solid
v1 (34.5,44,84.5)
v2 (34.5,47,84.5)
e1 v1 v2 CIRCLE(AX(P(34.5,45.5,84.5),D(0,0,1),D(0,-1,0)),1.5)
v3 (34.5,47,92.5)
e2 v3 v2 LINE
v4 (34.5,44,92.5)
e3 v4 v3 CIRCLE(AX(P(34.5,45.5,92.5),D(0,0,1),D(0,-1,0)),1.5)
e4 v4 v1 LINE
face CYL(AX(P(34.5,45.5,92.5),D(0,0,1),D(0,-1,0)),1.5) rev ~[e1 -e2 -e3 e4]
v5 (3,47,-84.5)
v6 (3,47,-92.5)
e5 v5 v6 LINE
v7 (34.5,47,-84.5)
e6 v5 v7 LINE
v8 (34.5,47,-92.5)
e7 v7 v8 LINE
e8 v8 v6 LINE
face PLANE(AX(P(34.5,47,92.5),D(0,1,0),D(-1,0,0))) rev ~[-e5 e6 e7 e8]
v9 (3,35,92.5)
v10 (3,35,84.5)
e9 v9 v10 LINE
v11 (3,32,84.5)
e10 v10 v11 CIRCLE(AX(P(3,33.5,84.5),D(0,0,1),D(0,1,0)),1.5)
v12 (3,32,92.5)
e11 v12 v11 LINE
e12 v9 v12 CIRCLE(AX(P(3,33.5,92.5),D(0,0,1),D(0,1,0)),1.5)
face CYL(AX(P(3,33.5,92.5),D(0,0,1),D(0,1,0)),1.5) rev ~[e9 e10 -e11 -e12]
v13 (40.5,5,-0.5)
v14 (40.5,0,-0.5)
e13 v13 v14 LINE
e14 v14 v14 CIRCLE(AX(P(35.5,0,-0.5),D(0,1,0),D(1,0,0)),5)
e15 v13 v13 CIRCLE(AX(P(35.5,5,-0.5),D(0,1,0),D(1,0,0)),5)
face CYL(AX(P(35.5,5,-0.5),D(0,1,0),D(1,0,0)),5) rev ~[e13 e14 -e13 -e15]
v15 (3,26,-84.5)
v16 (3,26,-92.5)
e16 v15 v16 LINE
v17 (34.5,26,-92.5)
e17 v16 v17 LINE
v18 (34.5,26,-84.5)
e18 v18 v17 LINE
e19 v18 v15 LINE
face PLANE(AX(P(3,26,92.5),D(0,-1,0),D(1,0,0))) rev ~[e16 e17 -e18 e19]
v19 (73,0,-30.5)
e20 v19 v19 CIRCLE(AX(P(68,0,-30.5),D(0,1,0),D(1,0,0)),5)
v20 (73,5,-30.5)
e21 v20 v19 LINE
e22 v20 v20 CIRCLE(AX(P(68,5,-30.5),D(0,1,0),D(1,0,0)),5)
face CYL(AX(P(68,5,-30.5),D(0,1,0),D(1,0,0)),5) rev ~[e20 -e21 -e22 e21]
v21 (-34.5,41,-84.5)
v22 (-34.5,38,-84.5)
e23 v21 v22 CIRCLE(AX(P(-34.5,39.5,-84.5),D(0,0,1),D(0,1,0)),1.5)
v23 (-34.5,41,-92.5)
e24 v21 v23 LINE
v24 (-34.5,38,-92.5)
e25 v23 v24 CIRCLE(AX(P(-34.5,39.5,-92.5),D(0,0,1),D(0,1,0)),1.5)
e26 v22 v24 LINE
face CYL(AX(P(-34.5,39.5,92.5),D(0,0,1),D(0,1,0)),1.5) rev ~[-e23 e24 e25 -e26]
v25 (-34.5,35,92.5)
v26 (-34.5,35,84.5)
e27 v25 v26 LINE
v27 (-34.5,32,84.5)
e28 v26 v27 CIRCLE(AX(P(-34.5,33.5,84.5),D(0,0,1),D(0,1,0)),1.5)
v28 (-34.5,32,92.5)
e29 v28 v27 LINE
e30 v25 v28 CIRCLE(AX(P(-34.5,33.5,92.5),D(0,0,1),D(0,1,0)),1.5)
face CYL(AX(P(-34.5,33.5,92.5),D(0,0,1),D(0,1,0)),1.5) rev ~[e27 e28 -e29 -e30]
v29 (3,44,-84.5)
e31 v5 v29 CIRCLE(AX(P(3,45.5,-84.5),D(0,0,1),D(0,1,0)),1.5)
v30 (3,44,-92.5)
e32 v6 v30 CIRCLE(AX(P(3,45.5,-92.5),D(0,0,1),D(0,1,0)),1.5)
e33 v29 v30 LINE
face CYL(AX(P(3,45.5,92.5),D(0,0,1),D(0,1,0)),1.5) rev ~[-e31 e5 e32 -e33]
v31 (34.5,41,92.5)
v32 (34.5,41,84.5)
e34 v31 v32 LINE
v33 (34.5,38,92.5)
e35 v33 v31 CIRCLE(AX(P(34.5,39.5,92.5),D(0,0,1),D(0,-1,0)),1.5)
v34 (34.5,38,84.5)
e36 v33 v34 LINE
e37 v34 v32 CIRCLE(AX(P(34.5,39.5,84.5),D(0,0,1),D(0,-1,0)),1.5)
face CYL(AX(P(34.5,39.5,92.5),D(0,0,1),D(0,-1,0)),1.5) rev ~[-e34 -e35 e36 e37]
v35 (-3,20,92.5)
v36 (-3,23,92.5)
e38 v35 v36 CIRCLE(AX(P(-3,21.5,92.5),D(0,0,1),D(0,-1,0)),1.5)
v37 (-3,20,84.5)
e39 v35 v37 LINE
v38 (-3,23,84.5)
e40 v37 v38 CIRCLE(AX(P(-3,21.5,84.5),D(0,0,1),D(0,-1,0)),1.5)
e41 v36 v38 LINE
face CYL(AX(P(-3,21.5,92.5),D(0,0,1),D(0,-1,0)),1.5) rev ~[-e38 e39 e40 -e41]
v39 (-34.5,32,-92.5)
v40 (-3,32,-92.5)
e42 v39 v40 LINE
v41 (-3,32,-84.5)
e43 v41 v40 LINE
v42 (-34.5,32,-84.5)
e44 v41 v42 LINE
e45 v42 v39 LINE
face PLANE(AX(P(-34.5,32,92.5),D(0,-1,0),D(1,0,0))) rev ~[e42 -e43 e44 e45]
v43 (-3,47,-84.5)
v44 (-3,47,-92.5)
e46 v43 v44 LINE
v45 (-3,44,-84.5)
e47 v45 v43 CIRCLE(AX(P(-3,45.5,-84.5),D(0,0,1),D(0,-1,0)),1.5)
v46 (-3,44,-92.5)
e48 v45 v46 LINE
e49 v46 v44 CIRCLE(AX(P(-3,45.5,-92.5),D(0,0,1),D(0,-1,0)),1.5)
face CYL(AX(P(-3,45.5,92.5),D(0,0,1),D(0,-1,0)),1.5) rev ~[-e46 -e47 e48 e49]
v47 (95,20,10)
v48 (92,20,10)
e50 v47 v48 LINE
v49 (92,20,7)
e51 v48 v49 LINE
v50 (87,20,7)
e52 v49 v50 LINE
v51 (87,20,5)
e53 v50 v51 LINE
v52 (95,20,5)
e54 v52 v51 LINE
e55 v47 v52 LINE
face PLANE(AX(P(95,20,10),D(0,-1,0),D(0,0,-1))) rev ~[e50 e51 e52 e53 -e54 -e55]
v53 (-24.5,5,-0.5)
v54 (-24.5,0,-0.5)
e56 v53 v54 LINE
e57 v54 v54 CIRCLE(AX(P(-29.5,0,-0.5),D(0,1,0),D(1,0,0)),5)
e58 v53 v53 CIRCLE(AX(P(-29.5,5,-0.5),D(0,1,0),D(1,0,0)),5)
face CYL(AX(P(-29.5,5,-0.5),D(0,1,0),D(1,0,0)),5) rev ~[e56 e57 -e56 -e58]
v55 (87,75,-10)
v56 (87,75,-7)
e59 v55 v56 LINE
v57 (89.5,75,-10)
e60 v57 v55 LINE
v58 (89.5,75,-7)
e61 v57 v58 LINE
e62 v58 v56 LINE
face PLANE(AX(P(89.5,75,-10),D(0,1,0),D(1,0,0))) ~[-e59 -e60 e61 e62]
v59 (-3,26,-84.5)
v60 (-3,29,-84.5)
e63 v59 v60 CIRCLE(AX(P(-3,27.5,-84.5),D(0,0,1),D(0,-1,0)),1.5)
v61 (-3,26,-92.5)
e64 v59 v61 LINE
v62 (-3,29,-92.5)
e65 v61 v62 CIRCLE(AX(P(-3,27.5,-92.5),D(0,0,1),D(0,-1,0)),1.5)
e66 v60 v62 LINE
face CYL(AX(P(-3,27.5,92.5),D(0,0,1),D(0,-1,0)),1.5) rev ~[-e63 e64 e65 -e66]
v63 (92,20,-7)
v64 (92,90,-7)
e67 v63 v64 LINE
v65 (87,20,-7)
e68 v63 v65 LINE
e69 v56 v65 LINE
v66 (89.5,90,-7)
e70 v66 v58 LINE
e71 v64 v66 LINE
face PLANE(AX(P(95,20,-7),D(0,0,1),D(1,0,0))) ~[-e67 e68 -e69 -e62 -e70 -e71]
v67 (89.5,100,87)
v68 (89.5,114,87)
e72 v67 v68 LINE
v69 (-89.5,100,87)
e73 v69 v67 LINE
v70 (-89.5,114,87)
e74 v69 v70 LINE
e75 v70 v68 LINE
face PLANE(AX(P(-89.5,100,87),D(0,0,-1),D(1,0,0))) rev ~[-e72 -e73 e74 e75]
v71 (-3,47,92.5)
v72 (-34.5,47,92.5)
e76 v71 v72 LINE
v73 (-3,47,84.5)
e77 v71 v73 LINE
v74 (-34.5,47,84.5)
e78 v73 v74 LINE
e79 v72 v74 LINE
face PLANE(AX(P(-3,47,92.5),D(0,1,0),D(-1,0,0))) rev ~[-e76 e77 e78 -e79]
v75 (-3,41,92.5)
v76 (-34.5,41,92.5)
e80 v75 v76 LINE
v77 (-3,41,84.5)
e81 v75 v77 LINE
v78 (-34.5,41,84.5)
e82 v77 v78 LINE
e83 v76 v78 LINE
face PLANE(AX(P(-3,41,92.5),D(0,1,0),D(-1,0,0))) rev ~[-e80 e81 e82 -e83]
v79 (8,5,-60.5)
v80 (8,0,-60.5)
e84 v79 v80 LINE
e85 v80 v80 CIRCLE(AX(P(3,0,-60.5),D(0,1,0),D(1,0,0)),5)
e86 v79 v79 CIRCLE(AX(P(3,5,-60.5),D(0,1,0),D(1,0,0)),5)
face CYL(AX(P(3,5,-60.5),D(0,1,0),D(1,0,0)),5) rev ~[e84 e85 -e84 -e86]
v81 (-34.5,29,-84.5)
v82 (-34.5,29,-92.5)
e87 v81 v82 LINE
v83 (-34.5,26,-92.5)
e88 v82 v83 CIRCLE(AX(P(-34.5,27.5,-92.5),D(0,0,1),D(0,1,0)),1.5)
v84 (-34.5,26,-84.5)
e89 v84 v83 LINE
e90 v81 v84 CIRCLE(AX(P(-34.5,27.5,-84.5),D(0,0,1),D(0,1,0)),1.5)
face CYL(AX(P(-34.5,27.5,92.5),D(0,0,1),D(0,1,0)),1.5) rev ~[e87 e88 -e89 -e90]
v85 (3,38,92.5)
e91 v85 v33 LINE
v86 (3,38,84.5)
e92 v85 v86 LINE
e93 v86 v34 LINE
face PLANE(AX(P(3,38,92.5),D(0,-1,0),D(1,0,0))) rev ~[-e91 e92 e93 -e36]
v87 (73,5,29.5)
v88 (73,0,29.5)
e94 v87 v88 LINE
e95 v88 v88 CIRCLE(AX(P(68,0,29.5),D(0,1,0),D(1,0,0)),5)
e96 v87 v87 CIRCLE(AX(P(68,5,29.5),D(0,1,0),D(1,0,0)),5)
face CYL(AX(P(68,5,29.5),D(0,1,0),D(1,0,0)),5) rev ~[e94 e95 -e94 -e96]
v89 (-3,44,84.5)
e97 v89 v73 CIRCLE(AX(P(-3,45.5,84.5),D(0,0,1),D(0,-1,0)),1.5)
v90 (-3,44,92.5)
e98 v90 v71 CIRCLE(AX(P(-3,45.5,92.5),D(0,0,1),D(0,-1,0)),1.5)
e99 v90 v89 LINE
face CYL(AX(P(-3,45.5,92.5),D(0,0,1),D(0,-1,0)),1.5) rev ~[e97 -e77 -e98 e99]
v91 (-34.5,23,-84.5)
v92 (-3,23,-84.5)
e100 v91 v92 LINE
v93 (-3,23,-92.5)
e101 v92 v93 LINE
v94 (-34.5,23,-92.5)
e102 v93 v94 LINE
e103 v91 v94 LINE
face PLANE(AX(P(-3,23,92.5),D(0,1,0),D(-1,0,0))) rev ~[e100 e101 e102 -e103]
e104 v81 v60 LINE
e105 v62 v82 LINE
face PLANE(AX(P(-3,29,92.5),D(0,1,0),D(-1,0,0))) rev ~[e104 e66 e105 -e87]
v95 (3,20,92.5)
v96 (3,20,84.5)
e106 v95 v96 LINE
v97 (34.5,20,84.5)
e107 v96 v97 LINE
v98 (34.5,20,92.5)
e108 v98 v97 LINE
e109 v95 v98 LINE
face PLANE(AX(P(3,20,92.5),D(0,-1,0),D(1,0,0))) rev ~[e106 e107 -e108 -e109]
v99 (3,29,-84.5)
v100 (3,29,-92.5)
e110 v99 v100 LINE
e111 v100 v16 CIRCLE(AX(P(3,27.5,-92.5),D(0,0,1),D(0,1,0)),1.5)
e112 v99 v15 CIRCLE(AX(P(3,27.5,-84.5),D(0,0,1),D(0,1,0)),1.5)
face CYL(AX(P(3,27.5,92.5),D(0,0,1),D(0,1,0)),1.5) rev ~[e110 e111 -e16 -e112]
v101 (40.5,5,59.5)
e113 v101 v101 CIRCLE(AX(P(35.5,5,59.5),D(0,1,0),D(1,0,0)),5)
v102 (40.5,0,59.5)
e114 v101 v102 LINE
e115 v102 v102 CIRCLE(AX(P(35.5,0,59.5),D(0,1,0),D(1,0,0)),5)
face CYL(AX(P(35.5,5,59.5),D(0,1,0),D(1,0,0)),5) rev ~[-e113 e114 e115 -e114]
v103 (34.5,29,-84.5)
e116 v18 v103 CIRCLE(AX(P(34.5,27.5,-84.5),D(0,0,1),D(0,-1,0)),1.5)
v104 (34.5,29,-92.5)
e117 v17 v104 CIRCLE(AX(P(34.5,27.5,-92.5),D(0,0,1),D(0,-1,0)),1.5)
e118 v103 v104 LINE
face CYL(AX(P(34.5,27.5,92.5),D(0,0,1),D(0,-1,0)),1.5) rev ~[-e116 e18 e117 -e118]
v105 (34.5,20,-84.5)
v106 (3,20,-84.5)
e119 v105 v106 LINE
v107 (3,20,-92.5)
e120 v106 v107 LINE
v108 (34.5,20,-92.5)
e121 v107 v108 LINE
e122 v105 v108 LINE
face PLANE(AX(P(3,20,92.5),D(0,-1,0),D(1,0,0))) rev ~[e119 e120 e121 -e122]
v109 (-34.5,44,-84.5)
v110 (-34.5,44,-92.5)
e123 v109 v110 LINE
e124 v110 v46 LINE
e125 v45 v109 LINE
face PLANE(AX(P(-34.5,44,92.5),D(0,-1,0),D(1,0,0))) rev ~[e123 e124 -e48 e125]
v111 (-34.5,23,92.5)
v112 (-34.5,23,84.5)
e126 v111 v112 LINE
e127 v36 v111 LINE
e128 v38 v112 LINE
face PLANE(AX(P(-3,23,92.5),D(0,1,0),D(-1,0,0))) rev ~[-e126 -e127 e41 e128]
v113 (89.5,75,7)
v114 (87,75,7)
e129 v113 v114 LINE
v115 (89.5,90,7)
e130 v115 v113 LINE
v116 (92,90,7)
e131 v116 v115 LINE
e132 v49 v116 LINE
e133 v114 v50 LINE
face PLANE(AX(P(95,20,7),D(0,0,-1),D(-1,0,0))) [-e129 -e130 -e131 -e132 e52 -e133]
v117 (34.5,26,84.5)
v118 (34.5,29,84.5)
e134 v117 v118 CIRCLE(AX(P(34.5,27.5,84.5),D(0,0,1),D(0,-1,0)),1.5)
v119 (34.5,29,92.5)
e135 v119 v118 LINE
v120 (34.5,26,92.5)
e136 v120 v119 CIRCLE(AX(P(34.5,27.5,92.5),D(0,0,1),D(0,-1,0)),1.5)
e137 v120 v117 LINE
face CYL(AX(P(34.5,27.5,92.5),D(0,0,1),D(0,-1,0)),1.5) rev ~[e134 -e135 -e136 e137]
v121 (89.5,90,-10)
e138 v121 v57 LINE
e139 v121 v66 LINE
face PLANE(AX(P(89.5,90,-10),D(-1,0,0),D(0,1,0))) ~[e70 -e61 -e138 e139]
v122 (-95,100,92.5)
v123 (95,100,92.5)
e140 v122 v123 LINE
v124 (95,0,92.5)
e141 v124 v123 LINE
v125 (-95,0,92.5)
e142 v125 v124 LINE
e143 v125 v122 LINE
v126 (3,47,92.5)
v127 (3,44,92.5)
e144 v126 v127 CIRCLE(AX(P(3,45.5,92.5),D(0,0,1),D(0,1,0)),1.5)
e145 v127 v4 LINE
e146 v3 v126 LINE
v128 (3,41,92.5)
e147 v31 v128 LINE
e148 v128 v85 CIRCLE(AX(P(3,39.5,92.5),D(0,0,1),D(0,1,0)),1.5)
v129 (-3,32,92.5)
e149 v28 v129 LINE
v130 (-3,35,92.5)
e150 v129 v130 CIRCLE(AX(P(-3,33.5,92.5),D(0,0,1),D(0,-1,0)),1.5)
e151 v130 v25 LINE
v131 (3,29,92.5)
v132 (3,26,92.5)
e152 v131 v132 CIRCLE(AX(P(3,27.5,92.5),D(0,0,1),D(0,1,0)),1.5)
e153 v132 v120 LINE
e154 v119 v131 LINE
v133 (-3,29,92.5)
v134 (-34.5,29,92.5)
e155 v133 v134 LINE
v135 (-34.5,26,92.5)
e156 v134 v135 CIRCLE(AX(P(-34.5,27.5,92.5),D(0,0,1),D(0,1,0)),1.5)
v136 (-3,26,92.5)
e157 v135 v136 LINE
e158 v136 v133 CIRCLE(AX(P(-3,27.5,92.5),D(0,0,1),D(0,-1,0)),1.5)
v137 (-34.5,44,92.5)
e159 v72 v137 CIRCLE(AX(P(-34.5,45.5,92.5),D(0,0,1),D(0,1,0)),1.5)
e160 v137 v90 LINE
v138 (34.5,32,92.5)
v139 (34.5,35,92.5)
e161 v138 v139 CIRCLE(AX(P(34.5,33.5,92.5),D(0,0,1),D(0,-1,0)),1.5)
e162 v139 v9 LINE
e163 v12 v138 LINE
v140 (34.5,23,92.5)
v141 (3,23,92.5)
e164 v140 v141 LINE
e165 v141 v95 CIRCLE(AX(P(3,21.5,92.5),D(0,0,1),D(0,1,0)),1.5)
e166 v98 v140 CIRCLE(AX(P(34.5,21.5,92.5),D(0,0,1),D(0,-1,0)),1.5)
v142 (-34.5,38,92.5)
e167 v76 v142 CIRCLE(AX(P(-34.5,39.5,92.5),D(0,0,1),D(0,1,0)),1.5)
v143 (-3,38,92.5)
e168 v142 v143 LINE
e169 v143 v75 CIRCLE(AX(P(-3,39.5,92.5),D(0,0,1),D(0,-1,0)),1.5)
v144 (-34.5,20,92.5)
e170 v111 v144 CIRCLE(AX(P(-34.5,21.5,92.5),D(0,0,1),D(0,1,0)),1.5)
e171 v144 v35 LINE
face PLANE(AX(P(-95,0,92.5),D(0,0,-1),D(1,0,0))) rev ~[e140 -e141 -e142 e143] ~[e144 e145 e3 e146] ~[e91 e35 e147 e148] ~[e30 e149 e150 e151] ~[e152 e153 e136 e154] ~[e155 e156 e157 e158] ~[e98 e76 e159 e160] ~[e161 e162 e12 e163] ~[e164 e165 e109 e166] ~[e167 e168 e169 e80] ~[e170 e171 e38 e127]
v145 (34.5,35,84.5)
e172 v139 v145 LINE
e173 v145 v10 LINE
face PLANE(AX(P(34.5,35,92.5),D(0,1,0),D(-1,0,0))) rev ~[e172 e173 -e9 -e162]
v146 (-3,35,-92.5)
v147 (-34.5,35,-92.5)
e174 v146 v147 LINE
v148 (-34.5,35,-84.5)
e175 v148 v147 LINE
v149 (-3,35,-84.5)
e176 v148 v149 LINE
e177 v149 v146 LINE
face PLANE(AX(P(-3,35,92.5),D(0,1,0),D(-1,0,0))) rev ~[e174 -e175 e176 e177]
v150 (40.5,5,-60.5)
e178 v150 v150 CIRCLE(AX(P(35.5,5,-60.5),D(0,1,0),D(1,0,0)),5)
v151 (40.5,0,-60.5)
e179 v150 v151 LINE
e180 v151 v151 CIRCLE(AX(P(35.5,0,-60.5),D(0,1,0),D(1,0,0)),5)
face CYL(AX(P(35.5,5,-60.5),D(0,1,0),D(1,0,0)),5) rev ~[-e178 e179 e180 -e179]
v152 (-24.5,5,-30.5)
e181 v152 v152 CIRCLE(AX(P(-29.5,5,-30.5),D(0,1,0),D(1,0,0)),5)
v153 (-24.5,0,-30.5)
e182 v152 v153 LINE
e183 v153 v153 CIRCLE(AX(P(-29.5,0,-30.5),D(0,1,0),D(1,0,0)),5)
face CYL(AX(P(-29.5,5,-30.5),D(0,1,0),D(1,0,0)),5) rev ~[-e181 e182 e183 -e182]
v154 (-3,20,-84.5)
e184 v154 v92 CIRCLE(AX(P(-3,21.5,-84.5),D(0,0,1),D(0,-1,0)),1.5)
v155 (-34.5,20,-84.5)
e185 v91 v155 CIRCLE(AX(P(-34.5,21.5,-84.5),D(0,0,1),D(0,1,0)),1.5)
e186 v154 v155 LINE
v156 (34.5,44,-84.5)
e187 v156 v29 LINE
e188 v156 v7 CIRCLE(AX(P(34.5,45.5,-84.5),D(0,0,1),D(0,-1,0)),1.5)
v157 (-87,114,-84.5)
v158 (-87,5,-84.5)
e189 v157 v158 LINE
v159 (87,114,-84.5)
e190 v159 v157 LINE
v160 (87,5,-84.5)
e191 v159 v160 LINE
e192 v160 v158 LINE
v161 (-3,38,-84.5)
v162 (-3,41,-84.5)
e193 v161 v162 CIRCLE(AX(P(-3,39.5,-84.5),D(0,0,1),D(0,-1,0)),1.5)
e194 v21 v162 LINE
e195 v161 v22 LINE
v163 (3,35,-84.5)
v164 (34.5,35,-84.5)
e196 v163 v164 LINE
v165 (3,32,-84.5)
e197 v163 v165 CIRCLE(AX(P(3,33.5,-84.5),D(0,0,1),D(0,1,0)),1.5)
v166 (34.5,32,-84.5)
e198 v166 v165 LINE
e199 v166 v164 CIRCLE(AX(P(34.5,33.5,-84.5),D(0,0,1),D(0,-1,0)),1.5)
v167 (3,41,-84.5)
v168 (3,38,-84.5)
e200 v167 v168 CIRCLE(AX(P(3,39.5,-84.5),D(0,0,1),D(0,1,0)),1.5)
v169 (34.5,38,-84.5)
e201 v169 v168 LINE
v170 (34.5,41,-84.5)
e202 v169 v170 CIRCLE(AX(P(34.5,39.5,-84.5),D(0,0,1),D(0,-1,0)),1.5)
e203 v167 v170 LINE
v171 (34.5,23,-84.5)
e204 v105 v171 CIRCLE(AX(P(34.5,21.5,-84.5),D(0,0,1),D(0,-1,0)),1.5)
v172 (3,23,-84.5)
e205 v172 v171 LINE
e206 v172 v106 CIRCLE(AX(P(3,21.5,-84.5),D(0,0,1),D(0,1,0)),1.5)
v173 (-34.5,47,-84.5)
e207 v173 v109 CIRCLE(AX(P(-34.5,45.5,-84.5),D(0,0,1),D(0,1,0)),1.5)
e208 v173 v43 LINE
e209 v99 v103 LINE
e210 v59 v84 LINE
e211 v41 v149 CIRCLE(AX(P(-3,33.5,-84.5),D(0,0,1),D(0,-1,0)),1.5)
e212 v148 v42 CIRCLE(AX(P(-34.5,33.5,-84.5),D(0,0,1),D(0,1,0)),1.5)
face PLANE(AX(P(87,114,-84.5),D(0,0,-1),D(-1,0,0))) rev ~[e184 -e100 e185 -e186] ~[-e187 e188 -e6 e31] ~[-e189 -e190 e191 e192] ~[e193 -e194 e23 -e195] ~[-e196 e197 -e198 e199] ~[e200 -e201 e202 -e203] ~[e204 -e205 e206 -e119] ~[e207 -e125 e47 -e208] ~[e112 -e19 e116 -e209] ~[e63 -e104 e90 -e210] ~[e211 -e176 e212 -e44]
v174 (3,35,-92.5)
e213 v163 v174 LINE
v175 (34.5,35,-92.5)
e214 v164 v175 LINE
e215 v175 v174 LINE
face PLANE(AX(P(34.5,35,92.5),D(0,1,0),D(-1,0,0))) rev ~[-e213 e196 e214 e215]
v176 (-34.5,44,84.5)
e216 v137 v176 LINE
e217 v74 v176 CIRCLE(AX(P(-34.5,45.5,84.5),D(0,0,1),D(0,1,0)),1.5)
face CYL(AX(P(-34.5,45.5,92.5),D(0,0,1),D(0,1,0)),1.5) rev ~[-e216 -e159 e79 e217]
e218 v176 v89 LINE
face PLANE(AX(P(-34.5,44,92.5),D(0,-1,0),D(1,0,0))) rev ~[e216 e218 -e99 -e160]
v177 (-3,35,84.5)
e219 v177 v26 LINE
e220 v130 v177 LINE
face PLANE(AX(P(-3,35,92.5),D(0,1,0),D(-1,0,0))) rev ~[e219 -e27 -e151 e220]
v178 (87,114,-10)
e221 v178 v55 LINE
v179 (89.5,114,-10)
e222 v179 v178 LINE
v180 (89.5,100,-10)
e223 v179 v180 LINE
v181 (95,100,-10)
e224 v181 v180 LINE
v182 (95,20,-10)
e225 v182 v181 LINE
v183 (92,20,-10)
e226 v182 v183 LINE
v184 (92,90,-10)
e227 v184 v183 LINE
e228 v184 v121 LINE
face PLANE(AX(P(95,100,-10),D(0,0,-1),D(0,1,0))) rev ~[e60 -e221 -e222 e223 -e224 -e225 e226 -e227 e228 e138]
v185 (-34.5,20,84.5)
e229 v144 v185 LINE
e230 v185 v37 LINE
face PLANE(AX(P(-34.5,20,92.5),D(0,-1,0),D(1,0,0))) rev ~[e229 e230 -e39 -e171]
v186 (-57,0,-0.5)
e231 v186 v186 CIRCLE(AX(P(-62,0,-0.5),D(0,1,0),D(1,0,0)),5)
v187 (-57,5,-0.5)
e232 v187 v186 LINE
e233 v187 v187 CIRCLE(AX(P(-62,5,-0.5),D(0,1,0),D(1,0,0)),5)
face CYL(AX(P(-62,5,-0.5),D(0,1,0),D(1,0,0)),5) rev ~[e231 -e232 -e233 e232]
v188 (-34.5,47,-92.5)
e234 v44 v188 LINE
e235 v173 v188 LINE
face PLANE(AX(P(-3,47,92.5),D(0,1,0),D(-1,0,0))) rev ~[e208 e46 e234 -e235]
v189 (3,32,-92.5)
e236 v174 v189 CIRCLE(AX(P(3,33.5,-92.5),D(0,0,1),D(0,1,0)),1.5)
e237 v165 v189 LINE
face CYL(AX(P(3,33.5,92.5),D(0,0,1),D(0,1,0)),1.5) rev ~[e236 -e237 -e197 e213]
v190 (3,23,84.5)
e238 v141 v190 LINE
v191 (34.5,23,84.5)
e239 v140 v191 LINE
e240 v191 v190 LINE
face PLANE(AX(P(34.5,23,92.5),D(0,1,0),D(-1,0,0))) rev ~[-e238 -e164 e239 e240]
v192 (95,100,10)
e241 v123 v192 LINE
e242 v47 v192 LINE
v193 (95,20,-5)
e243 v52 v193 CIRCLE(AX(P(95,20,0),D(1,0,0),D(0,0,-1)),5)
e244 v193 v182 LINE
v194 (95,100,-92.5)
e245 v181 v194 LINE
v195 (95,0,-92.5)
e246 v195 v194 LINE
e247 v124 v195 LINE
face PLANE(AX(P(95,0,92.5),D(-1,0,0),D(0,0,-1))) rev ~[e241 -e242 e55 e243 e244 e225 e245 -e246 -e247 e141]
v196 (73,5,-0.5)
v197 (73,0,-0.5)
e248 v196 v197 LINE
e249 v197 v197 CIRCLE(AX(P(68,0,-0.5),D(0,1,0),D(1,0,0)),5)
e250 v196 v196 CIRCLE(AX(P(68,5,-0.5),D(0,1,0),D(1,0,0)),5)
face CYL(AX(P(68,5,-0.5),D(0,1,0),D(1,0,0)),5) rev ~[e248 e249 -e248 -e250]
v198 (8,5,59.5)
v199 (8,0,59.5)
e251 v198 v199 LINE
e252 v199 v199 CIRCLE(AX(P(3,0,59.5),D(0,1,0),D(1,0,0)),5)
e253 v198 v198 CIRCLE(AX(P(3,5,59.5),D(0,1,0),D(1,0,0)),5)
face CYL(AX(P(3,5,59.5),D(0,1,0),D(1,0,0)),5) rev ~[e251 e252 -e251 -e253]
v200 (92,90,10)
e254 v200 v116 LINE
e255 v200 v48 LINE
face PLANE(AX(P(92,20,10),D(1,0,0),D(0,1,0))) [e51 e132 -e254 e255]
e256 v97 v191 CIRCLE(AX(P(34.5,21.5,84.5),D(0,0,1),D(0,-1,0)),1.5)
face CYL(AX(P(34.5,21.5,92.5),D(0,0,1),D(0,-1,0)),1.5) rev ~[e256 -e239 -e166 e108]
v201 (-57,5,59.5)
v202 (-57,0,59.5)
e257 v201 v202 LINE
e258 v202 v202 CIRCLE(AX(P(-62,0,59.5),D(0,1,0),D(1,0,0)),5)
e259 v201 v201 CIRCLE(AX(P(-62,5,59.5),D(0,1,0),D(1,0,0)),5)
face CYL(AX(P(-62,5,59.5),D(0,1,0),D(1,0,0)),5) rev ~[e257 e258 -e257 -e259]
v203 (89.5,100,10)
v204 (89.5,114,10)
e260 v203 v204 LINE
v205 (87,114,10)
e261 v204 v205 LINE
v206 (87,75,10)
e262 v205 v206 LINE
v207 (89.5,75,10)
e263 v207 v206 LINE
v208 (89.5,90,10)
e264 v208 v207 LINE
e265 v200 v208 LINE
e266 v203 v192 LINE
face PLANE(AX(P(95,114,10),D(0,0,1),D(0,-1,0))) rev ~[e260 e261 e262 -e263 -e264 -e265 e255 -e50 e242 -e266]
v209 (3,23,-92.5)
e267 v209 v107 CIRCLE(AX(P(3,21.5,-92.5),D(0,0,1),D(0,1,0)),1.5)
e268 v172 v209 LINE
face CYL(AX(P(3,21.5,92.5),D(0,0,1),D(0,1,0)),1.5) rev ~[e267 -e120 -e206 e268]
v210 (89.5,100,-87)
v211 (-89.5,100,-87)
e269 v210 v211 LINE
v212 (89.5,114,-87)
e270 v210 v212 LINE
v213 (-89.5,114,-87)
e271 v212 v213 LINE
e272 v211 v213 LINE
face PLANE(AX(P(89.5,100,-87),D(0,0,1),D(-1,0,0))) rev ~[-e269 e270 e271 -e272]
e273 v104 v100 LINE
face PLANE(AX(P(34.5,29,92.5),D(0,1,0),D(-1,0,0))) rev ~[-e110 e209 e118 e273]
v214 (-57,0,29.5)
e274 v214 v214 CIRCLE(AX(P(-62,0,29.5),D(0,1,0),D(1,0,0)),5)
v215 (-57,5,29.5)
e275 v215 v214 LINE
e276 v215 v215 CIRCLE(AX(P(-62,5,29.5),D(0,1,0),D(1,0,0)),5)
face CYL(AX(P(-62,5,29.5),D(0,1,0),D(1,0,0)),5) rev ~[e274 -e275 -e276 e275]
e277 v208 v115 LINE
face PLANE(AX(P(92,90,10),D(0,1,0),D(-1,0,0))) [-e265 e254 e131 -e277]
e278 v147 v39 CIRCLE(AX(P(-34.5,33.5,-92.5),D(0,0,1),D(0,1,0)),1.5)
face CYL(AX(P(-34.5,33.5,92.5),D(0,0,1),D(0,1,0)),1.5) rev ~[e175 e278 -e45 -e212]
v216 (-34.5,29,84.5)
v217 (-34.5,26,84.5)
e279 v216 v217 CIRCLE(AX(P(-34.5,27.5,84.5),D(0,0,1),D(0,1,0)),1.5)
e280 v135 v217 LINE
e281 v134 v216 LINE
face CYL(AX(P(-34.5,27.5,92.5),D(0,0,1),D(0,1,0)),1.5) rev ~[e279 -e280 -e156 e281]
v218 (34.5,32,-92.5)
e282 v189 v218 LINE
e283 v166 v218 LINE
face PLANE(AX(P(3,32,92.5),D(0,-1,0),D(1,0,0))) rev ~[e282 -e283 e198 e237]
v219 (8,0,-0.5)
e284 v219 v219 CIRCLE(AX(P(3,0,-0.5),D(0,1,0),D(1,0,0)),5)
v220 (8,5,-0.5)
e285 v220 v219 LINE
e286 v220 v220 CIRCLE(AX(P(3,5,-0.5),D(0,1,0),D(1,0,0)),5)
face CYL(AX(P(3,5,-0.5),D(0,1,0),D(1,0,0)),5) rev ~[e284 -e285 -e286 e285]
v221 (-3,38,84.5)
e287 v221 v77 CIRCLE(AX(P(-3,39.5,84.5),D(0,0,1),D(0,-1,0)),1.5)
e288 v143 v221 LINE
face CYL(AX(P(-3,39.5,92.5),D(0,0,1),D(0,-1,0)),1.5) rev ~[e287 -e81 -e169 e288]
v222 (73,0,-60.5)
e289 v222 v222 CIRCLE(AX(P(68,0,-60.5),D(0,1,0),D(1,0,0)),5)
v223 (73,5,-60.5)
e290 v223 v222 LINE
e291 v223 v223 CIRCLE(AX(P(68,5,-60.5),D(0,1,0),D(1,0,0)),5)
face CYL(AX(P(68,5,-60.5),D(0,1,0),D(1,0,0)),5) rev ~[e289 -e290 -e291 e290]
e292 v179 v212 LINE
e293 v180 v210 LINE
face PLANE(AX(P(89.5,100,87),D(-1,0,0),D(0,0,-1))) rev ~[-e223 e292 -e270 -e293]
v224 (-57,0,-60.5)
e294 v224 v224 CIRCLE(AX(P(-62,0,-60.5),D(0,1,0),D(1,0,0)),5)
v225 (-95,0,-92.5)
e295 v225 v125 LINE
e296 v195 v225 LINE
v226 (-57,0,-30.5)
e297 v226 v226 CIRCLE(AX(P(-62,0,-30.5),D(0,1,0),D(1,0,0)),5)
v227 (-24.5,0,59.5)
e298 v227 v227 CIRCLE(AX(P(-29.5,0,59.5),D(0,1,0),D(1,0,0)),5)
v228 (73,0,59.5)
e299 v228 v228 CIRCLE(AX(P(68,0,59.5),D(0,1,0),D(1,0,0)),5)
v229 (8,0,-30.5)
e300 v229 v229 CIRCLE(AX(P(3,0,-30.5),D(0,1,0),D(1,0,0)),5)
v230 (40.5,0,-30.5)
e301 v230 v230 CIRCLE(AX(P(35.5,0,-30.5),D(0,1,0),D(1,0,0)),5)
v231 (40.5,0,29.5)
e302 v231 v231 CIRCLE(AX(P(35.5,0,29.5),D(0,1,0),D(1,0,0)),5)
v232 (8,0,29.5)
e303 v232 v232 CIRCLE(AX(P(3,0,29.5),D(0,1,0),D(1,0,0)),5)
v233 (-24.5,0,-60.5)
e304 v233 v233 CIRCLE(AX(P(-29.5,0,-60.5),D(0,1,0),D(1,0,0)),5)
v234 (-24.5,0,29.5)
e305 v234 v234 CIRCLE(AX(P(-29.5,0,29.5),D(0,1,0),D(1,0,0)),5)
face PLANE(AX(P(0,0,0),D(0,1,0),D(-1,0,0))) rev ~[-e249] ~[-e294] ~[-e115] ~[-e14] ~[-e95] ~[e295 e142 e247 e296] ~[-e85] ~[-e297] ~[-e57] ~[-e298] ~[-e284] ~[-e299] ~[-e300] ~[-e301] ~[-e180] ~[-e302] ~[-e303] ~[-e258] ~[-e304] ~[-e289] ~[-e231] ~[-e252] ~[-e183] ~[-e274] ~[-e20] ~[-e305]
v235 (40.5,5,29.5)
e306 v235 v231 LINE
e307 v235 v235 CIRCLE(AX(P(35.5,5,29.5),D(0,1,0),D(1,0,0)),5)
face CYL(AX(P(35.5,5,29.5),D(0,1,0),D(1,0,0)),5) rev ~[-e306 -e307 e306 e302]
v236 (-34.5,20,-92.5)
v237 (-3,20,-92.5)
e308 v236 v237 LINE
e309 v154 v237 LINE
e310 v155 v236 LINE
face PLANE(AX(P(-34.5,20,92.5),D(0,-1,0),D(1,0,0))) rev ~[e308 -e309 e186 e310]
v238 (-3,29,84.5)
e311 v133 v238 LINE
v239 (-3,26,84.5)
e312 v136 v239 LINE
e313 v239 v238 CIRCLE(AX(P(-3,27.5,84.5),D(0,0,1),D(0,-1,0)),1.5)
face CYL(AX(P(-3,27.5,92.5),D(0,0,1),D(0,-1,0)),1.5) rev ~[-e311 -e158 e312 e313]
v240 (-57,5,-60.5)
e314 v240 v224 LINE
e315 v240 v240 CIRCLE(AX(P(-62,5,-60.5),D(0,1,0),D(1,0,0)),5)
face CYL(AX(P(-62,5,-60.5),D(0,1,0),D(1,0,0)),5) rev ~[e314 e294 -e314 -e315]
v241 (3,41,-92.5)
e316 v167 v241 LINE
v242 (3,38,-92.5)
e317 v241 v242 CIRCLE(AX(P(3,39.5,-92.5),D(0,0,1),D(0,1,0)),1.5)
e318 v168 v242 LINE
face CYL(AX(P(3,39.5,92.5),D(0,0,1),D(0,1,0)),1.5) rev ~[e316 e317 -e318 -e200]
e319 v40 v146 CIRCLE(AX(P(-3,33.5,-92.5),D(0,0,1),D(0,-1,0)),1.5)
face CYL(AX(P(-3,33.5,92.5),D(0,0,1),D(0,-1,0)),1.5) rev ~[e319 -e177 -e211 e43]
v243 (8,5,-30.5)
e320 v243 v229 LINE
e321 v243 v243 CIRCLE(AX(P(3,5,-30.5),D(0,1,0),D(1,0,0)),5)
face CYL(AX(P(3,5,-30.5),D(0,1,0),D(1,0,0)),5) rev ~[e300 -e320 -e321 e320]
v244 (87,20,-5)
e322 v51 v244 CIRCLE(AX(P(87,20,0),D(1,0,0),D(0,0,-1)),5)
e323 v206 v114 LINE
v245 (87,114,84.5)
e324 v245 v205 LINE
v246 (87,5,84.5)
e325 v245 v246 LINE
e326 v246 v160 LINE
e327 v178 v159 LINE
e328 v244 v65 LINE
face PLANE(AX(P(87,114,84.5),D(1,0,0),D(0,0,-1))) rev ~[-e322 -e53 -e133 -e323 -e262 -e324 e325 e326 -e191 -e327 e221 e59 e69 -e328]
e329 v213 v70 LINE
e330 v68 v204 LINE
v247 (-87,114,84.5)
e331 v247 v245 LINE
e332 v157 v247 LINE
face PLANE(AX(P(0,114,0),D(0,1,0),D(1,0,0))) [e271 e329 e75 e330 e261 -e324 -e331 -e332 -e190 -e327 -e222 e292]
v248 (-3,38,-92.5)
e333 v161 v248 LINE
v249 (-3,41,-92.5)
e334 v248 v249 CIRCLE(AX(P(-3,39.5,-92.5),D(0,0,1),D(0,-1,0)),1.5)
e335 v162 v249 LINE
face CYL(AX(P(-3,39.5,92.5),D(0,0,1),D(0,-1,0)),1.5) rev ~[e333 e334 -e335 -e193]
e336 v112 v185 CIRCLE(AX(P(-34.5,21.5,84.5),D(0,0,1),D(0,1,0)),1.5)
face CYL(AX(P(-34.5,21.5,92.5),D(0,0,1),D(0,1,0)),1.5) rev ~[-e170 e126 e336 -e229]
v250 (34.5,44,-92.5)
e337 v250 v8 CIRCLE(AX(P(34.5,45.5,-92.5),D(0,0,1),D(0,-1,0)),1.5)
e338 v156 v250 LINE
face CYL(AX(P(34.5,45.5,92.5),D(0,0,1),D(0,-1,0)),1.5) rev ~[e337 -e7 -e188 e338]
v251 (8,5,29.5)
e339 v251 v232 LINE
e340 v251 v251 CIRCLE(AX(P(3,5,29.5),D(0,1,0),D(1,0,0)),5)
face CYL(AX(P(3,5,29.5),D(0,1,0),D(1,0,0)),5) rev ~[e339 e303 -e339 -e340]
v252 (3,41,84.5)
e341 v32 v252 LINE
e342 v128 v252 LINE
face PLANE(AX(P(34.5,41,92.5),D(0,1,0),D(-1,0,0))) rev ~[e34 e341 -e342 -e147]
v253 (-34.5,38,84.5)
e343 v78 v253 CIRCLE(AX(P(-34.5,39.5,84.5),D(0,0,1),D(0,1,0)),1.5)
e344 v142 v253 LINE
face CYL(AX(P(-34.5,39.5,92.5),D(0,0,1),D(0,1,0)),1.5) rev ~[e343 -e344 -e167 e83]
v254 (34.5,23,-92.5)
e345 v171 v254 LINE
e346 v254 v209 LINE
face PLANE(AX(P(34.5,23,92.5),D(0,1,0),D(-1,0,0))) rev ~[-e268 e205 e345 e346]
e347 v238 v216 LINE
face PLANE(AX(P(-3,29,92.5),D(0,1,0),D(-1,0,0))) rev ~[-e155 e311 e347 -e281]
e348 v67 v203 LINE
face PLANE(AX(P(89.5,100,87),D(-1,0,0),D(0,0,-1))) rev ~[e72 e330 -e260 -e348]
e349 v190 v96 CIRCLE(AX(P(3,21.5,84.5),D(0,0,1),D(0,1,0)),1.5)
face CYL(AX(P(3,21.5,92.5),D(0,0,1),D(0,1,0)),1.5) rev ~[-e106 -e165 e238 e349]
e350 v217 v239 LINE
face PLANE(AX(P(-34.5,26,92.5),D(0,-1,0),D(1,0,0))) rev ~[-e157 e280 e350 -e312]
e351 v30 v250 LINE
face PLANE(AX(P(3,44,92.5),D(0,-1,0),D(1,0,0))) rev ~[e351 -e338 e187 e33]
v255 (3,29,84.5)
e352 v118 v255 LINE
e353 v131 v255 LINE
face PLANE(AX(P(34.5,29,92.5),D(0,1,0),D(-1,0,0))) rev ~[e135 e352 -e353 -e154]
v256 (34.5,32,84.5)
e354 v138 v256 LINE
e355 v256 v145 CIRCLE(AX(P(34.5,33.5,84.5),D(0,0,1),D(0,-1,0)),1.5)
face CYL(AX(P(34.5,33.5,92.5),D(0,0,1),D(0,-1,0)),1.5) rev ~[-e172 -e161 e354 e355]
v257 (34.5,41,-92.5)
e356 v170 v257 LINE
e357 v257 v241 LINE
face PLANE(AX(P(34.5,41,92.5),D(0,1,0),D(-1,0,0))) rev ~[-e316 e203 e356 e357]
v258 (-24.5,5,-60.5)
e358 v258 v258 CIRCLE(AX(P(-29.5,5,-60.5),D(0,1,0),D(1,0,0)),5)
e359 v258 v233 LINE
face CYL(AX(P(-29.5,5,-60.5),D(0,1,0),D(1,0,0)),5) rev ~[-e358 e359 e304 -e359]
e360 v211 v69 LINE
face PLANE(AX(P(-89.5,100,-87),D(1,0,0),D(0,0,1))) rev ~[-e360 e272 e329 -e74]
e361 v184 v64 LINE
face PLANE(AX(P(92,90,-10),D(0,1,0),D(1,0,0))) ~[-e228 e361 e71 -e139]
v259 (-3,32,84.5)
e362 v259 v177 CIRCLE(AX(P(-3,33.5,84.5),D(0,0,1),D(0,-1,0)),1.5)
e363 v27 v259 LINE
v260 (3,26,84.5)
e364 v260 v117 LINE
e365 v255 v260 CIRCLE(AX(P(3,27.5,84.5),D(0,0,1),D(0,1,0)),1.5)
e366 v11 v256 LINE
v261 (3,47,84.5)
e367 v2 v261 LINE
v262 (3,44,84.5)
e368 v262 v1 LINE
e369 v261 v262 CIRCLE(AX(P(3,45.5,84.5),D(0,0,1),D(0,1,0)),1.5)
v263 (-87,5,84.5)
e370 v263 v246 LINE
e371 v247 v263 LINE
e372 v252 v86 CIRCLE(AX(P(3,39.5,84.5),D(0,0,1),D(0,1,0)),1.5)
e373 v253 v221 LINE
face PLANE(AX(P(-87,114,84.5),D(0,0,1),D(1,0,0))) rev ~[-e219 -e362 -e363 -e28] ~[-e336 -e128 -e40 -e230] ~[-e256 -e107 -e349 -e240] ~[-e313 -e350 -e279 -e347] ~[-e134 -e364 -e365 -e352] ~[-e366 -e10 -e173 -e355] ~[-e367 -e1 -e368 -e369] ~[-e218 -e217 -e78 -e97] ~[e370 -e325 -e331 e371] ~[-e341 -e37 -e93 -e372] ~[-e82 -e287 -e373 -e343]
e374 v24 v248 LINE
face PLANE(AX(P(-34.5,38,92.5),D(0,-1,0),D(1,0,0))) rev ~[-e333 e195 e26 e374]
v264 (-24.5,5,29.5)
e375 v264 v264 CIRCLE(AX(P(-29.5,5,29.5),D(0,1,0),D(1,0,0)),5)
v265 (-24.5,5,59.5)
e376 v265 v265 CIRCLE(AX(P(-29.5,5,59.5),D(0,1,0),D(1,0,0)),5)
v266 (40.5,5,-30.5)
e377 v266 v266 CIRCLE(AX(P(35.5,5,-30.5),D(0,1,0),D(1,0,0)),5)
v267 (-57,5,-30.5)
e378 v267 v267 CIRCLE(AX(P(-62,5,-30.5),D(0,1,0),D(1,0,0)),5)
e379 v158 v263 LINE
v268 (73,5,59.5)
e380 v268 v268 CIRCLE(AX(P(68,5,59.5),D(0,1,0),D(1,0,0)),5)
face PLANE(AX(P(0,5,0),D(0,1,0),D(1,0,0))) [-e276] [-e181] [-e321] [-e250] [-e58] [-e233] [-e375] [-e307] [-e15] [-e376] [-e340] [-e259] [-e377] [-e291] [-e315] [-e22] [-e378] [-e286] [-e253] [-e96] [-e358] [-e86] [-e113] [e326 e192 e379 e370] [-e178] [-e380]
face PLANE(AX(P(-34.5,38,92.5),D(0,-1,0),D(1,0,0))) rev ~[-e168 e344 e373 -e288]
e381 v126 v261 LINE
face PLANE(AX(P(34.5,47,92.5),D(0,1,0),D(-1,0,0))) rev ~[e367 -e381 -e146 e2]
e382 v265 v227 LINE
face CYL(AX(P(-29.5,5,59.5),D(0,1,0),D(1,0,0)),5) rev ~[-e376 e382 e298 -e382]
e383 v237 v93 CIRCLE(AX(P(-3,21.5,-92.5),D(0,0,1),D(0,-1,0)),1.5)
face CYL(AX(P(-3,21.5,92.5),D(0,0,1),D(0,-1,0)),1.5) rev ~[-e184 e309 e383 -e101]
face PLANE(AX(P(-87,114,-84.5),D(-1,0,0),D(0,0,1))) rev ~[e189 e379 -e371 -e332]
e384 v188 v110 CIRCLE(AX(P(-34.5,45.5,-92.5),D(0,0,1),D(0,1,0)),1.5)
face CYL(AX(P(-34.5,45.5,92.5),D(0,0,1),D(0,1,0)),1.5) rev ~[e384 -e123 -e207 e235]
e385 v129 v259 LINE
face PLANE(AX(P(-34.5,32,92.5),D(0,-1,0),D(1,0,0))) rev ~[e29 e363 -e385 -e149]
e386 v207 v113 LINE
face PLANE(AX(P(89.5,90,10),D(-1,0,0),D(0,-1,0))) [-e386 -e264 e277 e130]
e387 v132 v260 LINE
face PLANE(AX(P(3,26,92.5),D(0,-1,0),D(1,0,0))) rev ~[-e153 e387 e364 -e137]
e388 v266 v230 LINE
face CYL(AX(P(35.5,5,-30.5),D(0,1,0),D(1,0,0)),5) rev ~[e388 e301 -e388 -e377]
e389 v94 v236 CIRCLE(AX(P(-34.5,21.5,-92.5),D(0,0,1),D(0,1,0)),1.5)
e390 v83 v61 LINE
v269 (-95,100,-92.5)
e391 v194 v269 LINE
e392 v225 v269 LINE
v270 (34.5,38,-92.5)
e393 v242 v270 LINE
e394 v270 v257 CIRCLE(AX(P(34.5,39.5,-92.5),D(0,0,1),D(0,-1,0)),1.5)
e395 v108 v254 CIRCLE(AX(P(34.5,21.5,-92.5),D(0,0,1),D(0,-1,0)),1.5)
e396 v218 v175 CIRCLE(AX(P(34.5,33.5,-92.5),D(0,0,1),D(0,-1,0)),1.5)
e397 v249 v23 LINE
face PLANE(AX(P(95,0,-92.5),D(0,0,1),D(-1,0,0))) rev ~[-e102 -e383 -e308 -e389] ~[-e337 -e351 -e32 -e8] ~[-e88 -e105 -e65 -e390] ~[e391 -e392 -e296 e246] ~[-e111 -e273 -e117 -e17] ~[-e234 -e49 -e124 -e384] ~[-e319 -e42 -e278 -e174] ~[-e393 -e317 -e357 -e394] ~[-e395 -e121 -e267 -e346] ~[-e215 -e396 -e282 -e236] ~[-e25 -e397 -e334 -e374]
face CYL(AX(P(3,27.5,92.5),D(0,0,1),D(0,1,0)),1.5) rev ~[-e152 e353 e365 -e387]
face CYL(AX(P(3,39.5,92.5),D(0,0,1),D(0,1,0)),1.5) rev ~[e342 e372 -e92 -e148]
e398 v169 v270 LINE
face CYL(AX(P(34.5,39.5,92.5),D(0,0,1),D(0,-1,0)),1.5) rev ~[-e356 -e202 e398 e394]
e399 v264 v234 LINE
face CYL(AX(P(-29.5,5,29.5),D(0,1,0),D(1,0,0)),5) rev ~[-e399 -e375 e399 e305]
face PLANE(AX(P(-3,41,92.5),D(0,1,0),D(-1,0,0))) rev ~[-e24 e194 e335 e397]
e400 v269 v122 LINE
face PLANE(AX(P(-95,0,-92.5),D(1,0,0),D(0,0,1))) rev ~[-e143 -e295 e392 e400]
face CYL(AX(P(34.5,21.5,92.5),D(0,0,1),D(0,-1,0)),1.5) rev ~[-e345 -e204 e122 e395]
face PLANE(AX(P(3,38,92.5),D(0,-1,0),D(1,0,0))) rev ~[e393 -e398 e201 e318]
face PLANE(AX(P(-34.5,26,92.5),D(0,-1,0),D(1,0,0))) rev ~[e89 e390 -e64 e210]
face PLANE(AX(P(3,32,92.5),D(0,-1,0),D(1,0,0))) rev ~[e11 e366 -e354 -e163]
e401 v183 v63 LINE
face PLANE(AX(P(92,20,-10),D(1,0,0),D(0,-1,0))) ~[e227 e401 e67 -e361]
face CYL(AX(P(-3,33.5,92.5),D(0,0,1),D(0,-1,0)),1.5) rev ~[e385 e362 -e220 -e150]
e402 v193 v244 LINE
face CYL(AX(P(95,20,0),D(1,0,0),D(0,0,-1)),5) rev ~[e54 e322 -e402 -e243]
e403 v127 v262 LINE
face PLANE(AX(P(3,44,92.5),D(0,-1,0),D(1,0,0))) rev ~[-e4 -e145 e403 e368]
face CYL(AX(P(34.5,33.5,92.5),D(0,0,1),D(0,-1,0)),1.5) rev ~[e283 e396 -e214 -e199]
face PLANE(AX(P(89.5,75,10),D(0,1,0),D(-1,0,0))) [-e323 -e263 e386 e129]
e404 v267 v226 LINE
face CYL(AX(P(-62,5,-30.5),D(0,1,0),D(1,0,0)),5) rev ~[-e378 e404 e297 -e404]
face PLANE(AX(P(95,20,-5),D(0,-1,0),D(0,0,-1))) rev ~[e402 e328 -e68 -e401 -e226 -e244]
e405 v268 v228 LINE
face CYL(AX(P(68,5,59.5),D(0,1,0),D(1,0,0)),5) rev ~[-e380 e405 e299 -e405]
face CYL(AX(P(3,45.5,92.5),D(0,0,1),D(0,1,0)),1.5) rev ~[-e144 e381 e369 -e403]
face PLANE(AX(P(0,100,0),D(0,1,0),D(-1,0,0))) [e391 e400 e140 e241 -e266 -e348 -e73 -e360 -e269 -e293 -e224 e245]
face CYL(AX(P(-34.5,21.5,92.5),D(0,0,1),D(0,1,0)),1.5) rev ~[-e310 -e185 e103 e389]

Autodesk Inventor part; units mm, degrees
ref_plane "YZ Plane" through (0, 0, 0) normal (1, 0, 0) x (0, 1, 0)
ref_plane "XZ Plane" through (0, 0, 0) normal (0, 1, 0) x (-1, 0, 0)
ref_plane "XY Plane" through (0, 0, 0) normal (0, 0, 1) x (1, 0, 0)
sketch "Sketch1" plane through (0, 0, 0) normal (0, 1, 0) x (-1, 0, 0)
  line L0 (95, 92.5) -> (-95, 92.5)
  line L1 (-95, 92.5) -> (-95, -92.5)
  line L2 (-95, -92.5) -> (95, -92.5)
  line L3 (95, -92.5) -> (95, 92.5)
  point P0 (0, 0)
  dimension "d0" = 190
  dimension "d1" = 185
  dimension "d2" = 95
  dimension "d3" = 92.5
extrude "Extrusion1" add sketch "Sketch1" along normal blind 100
sketch "Sketch3" plane through (0, 100, 0) normal (0, 1, 0) x (1, 0, 0)
  line L0 (-95, -92.5) -> (95, -92.5) projected
  line L1 (95, -92.5) -> (95, 92.5) projected
  line L2 (95, 92.5) -> (-95, 92.5) projected
  line L3 (-95, 92.5) -> (-95, -92.5) projected
  line L4 (-89.5, -87) -> (89.5, -87)
  line L5 (89.5, -87) -> (89.5, 87)
  line L6 (89.5, 87) -> (-89.5, 87)
  line L7 (-89.5, 87) -> (-89.5, -87)
  point P0 (0, 0)
  dimension "d12" = 5.5
  dimension "d13" = 5.5
  dimension "d14" = 5.5
  dimension "d15" = 5.5
extrude "Extrusion3" add sketch "Sketch3" along normal blind 14 contours L7 L6 L5 L4
sketch "Sketch4" plane through (0, 114, 0) normal (0, 1, 0) x (1, 0, 0)
  line L0 (-89.5, -87) -> (89.5, -87) projected
  line L1 (89.5, -87) -> (89.5, 87) projected
  line L2 (89.5, 87) -> (-89.5, 87) projected
  line L3 (-89.5, 87) -> (-89.5, -87) projected
  line L4 (-87, -84.5) -> (87, -84.5)
  line L5 (87, -84.5) -> (87, 84.5)
  line L6 (87, 84.5) -> (-87, 84.5)
  line L7 (-87, 84.5) -> (-87, -84.5)
  point P0 (0, 0)
  dimension "d18" = 2.5
  dimension "d19" = 2.5
  dimension "d20" = 2.5
  dimension "d21" = 2.5
extrude "Extrusion4" cut sketch "Sketch4" against normal blind 109 contours L7 L6 L5 L4
sketch "Sketch5" plane through (-95, 0, 92.5) normal (0, 0, 1) x (1, 0, 0)
  line L0 (0, 0) -> (190, 0) projected
  line L1 (190, 0) -> (190, 100) projected
  line L2 (0, 100) -> (190, 100) projected
  line L3 (0, 0) -> (0, 100) projected
  line L4 (115, 53) -> (115, 52)
  line L5 (115, 45.5) -> (115, 44.5)
  line L6 (115, 38) -> (115, 37)
  line L7 (115, 30.5) -> (115, 29.5)
  line L8 (115, 23) -> (115, 22)
  line L9 (118, 53) -> (118, 52)
  line L10 (118, 45.5) -> (118, 44.5)
  line L11 (118, 38) -> (118, 37)
  line L12 (118, 30.5) -> (118, 29.5)
  line L13 (118, 23) -> (118, 22)
  arc A0 (79.5, 55) -> (77.5, 53) centre (79.5, 53) ccw
  arc A1 (77.5, 22) -> (79.5, 20) centre (79.5, 22) ccw
  arc A2 (152.5, 53) -> (150.5, 55) centre (150.5, 53) ccw
  arc A3 (150.5, 20) -> (152.5, 22) centre (150.5, 22) ccw
  line L14 (79.5, 50) -> (113, 50)
  line L15 (120, 50) -> (150.5, 50)
  line L16 (150.5, 47.5) -> (120, 47.5)
  line L17 (113, 47.5) -> (79.5, 47.5)
  line L18 (79.5, 42.5) -> (113, 42.5)
  line L19 (120, 42.5) -> (150.5, 42.5)
  line L20 (150.5, 40) -> (120, 40)
  line L21 (113, 40) -> (79.5, 40)
  line L22 (79.5, 35) -> (113, 35)
  line L23 (120, 35) -> (150.5, 35)
  line L24 (150.5, 32.5) -> (120, 32.5)
  line L25 (113, 32.5) -> (79.5, 32.5)
  line L26 (79.5, 27.5) -> (113, 27.5)
  line L27 (120, 27.5) -> (150.5, 27.5)
  line L28 (150.5, 25) -> (120, 25)
  line L29 (113, 25) -> (79.5, 25)
  line L30 (79.5, 55) -> (113, 55)
  line L31 (120, 55) -> (150.5, 55)
  line L32 (79.5, 50) -> (113, 50)
  line L33 (120, 50) -> (150.5, 50)
  line L34 (79.5, 47.5) -> (113, 47.5)
  line L35 (120, 47.5) -> (150.5, 47.5)
  line L36 (79.5, 42.5) -> (113, 42.5)
  line L37 (120, 42.5) -> (150.5, 42.5)
  line L38 (79.5, 40) -> (113, 40)
  line L39 (120, 40) -> (150.5, 40)
  line L40 (79.5, 35) -> (113, 35)
  line L41 (120, 35) -> (150.5, 35)
  line L42 (79.5, 32.5) -> (113, 32.5)
  line L43 (120, 32.5) -> (150.5, 32.5)
  line L44 (79.5, 27.5) -> (113, 27.5)
  line L45 (120, 27.5) -> (150.5, 27.5)
  line L46 (79.5, 25) -> (113, 25)
  line L47 (120, 25) -> (150.5, 25)
  line L48 (77.5, 22) -> (77.5, 23)
  line L49 (77.5, 29.5) -> (77.5, 30.5)
  line L50 (77.5, 37) -> (77.5, 38)
  line L51 (77.5, 44.5) -> (77.5, 45.5)
  line L52 (77.5, 52) -> (77.5, 53)
  line L53 (118, 52) -> (118, 53)
  line L54 (115, 53) -> (115, 52)
  line L55 (118, 44.5) -> (118, 45.5)
  line L56 (115, 45.5) -> (115, 44.5)
  line L57 (115, 38) -> (115, 37)
  line L58 (118, 37) -> (118, 38)
  line L59 (118, 22) -> (118, 23)
  line L60 (118, 29.5) -> (118, 30.5)
  line L61 (115, 30.5) -> (115, 29.5)
  line L62 (115, 23) -> (115, 22)
  line L63 (152.5, 23) -> (152.5, 22)
  line L64 (152.5, 30.5) -> (152.5, 29.5)
  line L65 (152.5, 38) -> (152.5, 37)
  line L66 (152.5, 53) -> (152.5, 52)
  line L67 (152.5, 45.5) -> (152.5, 44.5)
  arc A4 (77.5, 52) -> (79.5, 50) centre (79.5, 52) ccw
  arc A5 (113, 50) -> (115, 52) centre (113, 52) ccw
  arc A6 (115, 53) -> (113, 55) centre (113, 53) ccw
  arc A7 (120, 55) -> (118, 53) centre (120, 53) ccw
  arc A8 (118, 52) -> (120, 50) centre (120, 52) ccw
  arc A9 (150.5, 50) -> (152.5, 52) centre (150.5, 52) ccw
  arc A10 (79.5, 47.5) -> (77.5, 45.5) centre (79.5, 45.5) ccw
  arc A11 (77.5, 44.5) -> (79.5, 42.5) centre (79.5, 44.5) ccw
  arc A12 (115, 45.5) -> (113, 47.5) centre (113, 45.5) ccw
  arc A13 (113, 42.5) -> (115, 44.5) centre (113, 44.5) ccw
  arc A14 (120, 47.5) -> (118, 45.5) centre (120, 45.5) ccw
  arc A15 (118, 44.5) -> (120, 42.5) centre (120, 44.5) ccw
  arc A16 (150.5, 42.5) -> (152.5, 44.5) centre (150.5, 44.5) ccw
  arc A17 (152.5, 45.5) -> (150.5, 47.5) centre (150.5, 45.5) ccw
  arc A18 (152.5, 38) -> (150.5, 40) centre (150.5, 38) ccw
  arc A19 (150.5, 35) -> (152.5, 37) centre (150.5, 37) ccw
  arc A20 (118, 37) -> (120, 35) centre (120, 37) ccw
  arc A21 (120, 40) -> (118, 38) centre (120, 38) ccw
  arc A22 (120, 32.5) -> (118, 30.5) centre (120, 30.5) ccw
  arc A23 (152.5, 30.5) -> (150.5, 32.5) centre (150.5, 30.5) ccw
  arc A24 (150.5, 27.5) -> (152.5, 29.5) centre (150.5, 29.5) ccw
  arc A25 (118, 29.5) -> (120, 27.5) centre (120, 29.5) ccw
  arc A26 (79.5, 40) -> (77.5, 38) centre (79.5, 38) ccw
  arc A27 (115, 38) -> (113, 40) centre (113, 38) ccw
  arc A28 (113, 35) -> (115, 37) centre (113, 37) ccw
  arc A29 (77.5, 37) -> (79.5, 35) centre (79.5, 37) ccw
  arc A30 (79.5, 32.5) -> (77.5, 30.5) centre (79.5, 30.5) ccw
  arc A31 (77.5, 29.5) -> (79.5, 27.5) centre (79.5, 29.5) ccw
  arc A32 (79.5, 25) -> (77.5, 23) centre (79.5, 23) ccw
  arc A33 (115, 23) -> (113, 25) centre (113, 23) ccw
  arc A34 (115, 30.5) -> (113, 32.5) centre (113, 30.5) ccw
  arc A35 (113, 27.5) -> (115, 29.5) centre (113, 29.5) ccw
  arc A36 (120, 25) -> (118, 23) centre (120, 23) ccw
  line L68 (150.5, 20) -> (120, 20)
  line L69 (113, 20) -> (79.5, 20)
  arc A37 (113, 20) -> (115, 22) centre (113, 22) ccw
  arc A38 (118, 22) -> (120, 20) centre (120, 22) ccw
  arc A39 (152.5, 23) -> (150.5, 25) centre (150.5, 23) ccw
  point P0 (95, 0)
  dimension "d52" = 34.5
  dimension "d54" = 75
  dimension "d55" = 2.5
  dimension "d56" = 7.5
  dimension "d57" = 10
  dimension "d58" = 17.5
  dimension "d59" = 22.5
  dimension "d60" = 25
  dimension "d61" = 5
  dimension "d62" = 30
  dimension "d63" = 15
extrude "Extrusion5" [suppressed]
sketch "Sketch6" plane through (-95, 0, 92.5) normal (0, 0, 1) x (1, 0, 0)
  line L0 (59, 21.5) -> (93.5, 21.5) construction
  line L1 (60.5, 20) -> (92, 20)
  line L2 (92, 23) -> (60.5, 23)
  arc A0 (60.5, 23) -> (60.5, 20) centre (60.5, 21.5) ccw
  arc A1 (92, 20) -> (92, 23) centre (92, 21.5) ccw
  line L3 (0, 0) -> (190, 0) projected
  line L4 (190, 0) -> (190, 100) projected
  line L5 (0, 100) -> (190, 100) projected
  line L6 (0, 0) -> (0, 100) projected
  point P0 (95, 0)
  point P1 (76.25, 21.5)
  dimension "d66" = 34.5
  dimension "d67" = 3
  dimension "d69" = 1.5
  dimension "d70" = 20
extrude "Extrusion6" cut sketch "Sketch6" against normal through all contours A0 L2 A1 L1
pattern_linear "Rectangular Pattern1" count 2 spacing 37.5 along (1, 0, 0) count 5 spacing 6 along (0, 1, 0) of "Extrusion6"
sketch "Sketch7" plane through (95, 0, 92.5) normal (1, 0, 0) x (0, 0, -1)
  line L0 (0, 0) -> (185, 0) projected
  line L1 (185, 0) -> (185, 100) projected
  line L2 (0, 100) -> (185, 100) projected
  line L3 (0, 0) -> (0, 100) projected
  circle A0 centre (92.5, 20) radius 5
  line L4 (179.5, 100) -> (5.5, 100) projected
  line L5 (179.5, 100) -> (179.5, 114) projected
  line L6 (5.5, 114) -> (179.5, 114) projected
  line L7 (5.5, 100) -> (5.5, 114) projected
  line L8 (82.5, 20) -> (102.5, 20)
  line L9 (102.5, 20) -> (102.5, 114)
  line L10 (102.5, 114) -> (82.5, 114)
  line L11 (82.5, 114) -> (82.5, 20)
  point P0 (92.5, 0)
  dimension "d79" = 10
  dimension "d82" = 20
  dimension "d83" = 10
  dimension "d84" = 20
  dimension "d93" = 185
  dimension "d94" = 92.5
extrude "Extrusion7" cut sketch "Sketch7" against normal up to surface (8 mm away) contours L11 L6 L9 L2 | L2 L9 L8 A0 L11 | L8 A0 | A0 L8
sketch "Sketch8" plane through (95, 20, 10) normal (0, 0, -1) x (-1, 0, 0)
  line L0 (0, 80) -> (5.5, 80) projected
  line L1 (0, 0) -> (0, 80) projected
  line L2 (0, 0) -> (8, 0) projected
  line L3 (8, 94) -> (8, 0) projected
  line L4 (5.5, 94) -> (8, 94) projected
  line L5 (5.5, 80) -> (5.5, 94) projected
  line L6 (3, 70) -> (5.5, 70)
  line L7 (5.5, 70) -> (5.5, 55)
  line L8 (5.5, 55) -> (3, 55)
  line L9 (3, 55) -> (3, 70)
  line L10 (3, 55) -> (8, 55)
  line L11 (8, 55) -> (8, 0)
  line L12 (8, 0) -> (3, 0)
  line L13 (3, 0) -> (3, 55)
  point P0 (95, -20)
  dimension "d87" = 2.5
  dimension "d88" = 15
  dimension "d89" = 10
  dimension "d90" = 3
  dimension "d95" = 2.5
extrude "Extrusion8" add sketch "Sketch8" along normal blind 3 contours L13 L8 L10 L3 L2 | L9 L6 L7 L8
mirror "Mirror1" about plane through (0, 0, 0) normal (0, 0, 1) of "Extrusion8"
sketch "Sketch9" plane through (0, 5, 0) normal (0, 1, 0) x (1, 0, 0)
  line L0 (87, -84.5) -> (-87, -84.5) projected
  line L1 (87, 84.5) -> (87, -84.5) projected
  line L2 (-87, 84.5) -> (87, 84.5) projected
  line L3 (-87, -84.5) -> (-87, 84.5) projected
  circle A0 centre (-62, -59.5) radius 5
  point P0 (0, 0)
  dimension "d96" = 10
  dimension "d97" = 25
  dimension "d98" = 25
extrude "Extrusion9" cut sketch "Sketch9" against normal through all contours A0
pattern_linear "Rectangular Pattern2" count 6 spacing 32.5 along (1, 0, 0) count 5 spacing 30 along (0, 0, -1) of "Extrusion9"
equation "\"d2\" = 0.5 * d0"
equation "\"d3\" = 0.5 * d1"
equation "\"d13\" = d12"
equation "\"d14\" = d12"
equation "\"d15\" = d12"
equation "\"d19\" = d18"
equation "\"d20\" = d18"
equation "\"d21\" = d18"
equation "\"d83\" = 0.5 * d82"
equation "\"d94\" = 0.5 * d93"
equation "\"d28\" = 0.5 * d26"
equation "\"d38\" = d36"
equation "\"d39\" = d37"
equation "\"d40\" = d36"
equation "\"d41\" = d37"
equation "\"d42\" = d36"
equation "\"d43\" = d37"
equation "\"d44\" = d36"
equation "\"d47\" = 0.5 * d26"
equation "\"d26\" = 75"
equation "\"d36\" = 5"
equation "\"d37\" = 2.5"
properties part number "Bottom"
